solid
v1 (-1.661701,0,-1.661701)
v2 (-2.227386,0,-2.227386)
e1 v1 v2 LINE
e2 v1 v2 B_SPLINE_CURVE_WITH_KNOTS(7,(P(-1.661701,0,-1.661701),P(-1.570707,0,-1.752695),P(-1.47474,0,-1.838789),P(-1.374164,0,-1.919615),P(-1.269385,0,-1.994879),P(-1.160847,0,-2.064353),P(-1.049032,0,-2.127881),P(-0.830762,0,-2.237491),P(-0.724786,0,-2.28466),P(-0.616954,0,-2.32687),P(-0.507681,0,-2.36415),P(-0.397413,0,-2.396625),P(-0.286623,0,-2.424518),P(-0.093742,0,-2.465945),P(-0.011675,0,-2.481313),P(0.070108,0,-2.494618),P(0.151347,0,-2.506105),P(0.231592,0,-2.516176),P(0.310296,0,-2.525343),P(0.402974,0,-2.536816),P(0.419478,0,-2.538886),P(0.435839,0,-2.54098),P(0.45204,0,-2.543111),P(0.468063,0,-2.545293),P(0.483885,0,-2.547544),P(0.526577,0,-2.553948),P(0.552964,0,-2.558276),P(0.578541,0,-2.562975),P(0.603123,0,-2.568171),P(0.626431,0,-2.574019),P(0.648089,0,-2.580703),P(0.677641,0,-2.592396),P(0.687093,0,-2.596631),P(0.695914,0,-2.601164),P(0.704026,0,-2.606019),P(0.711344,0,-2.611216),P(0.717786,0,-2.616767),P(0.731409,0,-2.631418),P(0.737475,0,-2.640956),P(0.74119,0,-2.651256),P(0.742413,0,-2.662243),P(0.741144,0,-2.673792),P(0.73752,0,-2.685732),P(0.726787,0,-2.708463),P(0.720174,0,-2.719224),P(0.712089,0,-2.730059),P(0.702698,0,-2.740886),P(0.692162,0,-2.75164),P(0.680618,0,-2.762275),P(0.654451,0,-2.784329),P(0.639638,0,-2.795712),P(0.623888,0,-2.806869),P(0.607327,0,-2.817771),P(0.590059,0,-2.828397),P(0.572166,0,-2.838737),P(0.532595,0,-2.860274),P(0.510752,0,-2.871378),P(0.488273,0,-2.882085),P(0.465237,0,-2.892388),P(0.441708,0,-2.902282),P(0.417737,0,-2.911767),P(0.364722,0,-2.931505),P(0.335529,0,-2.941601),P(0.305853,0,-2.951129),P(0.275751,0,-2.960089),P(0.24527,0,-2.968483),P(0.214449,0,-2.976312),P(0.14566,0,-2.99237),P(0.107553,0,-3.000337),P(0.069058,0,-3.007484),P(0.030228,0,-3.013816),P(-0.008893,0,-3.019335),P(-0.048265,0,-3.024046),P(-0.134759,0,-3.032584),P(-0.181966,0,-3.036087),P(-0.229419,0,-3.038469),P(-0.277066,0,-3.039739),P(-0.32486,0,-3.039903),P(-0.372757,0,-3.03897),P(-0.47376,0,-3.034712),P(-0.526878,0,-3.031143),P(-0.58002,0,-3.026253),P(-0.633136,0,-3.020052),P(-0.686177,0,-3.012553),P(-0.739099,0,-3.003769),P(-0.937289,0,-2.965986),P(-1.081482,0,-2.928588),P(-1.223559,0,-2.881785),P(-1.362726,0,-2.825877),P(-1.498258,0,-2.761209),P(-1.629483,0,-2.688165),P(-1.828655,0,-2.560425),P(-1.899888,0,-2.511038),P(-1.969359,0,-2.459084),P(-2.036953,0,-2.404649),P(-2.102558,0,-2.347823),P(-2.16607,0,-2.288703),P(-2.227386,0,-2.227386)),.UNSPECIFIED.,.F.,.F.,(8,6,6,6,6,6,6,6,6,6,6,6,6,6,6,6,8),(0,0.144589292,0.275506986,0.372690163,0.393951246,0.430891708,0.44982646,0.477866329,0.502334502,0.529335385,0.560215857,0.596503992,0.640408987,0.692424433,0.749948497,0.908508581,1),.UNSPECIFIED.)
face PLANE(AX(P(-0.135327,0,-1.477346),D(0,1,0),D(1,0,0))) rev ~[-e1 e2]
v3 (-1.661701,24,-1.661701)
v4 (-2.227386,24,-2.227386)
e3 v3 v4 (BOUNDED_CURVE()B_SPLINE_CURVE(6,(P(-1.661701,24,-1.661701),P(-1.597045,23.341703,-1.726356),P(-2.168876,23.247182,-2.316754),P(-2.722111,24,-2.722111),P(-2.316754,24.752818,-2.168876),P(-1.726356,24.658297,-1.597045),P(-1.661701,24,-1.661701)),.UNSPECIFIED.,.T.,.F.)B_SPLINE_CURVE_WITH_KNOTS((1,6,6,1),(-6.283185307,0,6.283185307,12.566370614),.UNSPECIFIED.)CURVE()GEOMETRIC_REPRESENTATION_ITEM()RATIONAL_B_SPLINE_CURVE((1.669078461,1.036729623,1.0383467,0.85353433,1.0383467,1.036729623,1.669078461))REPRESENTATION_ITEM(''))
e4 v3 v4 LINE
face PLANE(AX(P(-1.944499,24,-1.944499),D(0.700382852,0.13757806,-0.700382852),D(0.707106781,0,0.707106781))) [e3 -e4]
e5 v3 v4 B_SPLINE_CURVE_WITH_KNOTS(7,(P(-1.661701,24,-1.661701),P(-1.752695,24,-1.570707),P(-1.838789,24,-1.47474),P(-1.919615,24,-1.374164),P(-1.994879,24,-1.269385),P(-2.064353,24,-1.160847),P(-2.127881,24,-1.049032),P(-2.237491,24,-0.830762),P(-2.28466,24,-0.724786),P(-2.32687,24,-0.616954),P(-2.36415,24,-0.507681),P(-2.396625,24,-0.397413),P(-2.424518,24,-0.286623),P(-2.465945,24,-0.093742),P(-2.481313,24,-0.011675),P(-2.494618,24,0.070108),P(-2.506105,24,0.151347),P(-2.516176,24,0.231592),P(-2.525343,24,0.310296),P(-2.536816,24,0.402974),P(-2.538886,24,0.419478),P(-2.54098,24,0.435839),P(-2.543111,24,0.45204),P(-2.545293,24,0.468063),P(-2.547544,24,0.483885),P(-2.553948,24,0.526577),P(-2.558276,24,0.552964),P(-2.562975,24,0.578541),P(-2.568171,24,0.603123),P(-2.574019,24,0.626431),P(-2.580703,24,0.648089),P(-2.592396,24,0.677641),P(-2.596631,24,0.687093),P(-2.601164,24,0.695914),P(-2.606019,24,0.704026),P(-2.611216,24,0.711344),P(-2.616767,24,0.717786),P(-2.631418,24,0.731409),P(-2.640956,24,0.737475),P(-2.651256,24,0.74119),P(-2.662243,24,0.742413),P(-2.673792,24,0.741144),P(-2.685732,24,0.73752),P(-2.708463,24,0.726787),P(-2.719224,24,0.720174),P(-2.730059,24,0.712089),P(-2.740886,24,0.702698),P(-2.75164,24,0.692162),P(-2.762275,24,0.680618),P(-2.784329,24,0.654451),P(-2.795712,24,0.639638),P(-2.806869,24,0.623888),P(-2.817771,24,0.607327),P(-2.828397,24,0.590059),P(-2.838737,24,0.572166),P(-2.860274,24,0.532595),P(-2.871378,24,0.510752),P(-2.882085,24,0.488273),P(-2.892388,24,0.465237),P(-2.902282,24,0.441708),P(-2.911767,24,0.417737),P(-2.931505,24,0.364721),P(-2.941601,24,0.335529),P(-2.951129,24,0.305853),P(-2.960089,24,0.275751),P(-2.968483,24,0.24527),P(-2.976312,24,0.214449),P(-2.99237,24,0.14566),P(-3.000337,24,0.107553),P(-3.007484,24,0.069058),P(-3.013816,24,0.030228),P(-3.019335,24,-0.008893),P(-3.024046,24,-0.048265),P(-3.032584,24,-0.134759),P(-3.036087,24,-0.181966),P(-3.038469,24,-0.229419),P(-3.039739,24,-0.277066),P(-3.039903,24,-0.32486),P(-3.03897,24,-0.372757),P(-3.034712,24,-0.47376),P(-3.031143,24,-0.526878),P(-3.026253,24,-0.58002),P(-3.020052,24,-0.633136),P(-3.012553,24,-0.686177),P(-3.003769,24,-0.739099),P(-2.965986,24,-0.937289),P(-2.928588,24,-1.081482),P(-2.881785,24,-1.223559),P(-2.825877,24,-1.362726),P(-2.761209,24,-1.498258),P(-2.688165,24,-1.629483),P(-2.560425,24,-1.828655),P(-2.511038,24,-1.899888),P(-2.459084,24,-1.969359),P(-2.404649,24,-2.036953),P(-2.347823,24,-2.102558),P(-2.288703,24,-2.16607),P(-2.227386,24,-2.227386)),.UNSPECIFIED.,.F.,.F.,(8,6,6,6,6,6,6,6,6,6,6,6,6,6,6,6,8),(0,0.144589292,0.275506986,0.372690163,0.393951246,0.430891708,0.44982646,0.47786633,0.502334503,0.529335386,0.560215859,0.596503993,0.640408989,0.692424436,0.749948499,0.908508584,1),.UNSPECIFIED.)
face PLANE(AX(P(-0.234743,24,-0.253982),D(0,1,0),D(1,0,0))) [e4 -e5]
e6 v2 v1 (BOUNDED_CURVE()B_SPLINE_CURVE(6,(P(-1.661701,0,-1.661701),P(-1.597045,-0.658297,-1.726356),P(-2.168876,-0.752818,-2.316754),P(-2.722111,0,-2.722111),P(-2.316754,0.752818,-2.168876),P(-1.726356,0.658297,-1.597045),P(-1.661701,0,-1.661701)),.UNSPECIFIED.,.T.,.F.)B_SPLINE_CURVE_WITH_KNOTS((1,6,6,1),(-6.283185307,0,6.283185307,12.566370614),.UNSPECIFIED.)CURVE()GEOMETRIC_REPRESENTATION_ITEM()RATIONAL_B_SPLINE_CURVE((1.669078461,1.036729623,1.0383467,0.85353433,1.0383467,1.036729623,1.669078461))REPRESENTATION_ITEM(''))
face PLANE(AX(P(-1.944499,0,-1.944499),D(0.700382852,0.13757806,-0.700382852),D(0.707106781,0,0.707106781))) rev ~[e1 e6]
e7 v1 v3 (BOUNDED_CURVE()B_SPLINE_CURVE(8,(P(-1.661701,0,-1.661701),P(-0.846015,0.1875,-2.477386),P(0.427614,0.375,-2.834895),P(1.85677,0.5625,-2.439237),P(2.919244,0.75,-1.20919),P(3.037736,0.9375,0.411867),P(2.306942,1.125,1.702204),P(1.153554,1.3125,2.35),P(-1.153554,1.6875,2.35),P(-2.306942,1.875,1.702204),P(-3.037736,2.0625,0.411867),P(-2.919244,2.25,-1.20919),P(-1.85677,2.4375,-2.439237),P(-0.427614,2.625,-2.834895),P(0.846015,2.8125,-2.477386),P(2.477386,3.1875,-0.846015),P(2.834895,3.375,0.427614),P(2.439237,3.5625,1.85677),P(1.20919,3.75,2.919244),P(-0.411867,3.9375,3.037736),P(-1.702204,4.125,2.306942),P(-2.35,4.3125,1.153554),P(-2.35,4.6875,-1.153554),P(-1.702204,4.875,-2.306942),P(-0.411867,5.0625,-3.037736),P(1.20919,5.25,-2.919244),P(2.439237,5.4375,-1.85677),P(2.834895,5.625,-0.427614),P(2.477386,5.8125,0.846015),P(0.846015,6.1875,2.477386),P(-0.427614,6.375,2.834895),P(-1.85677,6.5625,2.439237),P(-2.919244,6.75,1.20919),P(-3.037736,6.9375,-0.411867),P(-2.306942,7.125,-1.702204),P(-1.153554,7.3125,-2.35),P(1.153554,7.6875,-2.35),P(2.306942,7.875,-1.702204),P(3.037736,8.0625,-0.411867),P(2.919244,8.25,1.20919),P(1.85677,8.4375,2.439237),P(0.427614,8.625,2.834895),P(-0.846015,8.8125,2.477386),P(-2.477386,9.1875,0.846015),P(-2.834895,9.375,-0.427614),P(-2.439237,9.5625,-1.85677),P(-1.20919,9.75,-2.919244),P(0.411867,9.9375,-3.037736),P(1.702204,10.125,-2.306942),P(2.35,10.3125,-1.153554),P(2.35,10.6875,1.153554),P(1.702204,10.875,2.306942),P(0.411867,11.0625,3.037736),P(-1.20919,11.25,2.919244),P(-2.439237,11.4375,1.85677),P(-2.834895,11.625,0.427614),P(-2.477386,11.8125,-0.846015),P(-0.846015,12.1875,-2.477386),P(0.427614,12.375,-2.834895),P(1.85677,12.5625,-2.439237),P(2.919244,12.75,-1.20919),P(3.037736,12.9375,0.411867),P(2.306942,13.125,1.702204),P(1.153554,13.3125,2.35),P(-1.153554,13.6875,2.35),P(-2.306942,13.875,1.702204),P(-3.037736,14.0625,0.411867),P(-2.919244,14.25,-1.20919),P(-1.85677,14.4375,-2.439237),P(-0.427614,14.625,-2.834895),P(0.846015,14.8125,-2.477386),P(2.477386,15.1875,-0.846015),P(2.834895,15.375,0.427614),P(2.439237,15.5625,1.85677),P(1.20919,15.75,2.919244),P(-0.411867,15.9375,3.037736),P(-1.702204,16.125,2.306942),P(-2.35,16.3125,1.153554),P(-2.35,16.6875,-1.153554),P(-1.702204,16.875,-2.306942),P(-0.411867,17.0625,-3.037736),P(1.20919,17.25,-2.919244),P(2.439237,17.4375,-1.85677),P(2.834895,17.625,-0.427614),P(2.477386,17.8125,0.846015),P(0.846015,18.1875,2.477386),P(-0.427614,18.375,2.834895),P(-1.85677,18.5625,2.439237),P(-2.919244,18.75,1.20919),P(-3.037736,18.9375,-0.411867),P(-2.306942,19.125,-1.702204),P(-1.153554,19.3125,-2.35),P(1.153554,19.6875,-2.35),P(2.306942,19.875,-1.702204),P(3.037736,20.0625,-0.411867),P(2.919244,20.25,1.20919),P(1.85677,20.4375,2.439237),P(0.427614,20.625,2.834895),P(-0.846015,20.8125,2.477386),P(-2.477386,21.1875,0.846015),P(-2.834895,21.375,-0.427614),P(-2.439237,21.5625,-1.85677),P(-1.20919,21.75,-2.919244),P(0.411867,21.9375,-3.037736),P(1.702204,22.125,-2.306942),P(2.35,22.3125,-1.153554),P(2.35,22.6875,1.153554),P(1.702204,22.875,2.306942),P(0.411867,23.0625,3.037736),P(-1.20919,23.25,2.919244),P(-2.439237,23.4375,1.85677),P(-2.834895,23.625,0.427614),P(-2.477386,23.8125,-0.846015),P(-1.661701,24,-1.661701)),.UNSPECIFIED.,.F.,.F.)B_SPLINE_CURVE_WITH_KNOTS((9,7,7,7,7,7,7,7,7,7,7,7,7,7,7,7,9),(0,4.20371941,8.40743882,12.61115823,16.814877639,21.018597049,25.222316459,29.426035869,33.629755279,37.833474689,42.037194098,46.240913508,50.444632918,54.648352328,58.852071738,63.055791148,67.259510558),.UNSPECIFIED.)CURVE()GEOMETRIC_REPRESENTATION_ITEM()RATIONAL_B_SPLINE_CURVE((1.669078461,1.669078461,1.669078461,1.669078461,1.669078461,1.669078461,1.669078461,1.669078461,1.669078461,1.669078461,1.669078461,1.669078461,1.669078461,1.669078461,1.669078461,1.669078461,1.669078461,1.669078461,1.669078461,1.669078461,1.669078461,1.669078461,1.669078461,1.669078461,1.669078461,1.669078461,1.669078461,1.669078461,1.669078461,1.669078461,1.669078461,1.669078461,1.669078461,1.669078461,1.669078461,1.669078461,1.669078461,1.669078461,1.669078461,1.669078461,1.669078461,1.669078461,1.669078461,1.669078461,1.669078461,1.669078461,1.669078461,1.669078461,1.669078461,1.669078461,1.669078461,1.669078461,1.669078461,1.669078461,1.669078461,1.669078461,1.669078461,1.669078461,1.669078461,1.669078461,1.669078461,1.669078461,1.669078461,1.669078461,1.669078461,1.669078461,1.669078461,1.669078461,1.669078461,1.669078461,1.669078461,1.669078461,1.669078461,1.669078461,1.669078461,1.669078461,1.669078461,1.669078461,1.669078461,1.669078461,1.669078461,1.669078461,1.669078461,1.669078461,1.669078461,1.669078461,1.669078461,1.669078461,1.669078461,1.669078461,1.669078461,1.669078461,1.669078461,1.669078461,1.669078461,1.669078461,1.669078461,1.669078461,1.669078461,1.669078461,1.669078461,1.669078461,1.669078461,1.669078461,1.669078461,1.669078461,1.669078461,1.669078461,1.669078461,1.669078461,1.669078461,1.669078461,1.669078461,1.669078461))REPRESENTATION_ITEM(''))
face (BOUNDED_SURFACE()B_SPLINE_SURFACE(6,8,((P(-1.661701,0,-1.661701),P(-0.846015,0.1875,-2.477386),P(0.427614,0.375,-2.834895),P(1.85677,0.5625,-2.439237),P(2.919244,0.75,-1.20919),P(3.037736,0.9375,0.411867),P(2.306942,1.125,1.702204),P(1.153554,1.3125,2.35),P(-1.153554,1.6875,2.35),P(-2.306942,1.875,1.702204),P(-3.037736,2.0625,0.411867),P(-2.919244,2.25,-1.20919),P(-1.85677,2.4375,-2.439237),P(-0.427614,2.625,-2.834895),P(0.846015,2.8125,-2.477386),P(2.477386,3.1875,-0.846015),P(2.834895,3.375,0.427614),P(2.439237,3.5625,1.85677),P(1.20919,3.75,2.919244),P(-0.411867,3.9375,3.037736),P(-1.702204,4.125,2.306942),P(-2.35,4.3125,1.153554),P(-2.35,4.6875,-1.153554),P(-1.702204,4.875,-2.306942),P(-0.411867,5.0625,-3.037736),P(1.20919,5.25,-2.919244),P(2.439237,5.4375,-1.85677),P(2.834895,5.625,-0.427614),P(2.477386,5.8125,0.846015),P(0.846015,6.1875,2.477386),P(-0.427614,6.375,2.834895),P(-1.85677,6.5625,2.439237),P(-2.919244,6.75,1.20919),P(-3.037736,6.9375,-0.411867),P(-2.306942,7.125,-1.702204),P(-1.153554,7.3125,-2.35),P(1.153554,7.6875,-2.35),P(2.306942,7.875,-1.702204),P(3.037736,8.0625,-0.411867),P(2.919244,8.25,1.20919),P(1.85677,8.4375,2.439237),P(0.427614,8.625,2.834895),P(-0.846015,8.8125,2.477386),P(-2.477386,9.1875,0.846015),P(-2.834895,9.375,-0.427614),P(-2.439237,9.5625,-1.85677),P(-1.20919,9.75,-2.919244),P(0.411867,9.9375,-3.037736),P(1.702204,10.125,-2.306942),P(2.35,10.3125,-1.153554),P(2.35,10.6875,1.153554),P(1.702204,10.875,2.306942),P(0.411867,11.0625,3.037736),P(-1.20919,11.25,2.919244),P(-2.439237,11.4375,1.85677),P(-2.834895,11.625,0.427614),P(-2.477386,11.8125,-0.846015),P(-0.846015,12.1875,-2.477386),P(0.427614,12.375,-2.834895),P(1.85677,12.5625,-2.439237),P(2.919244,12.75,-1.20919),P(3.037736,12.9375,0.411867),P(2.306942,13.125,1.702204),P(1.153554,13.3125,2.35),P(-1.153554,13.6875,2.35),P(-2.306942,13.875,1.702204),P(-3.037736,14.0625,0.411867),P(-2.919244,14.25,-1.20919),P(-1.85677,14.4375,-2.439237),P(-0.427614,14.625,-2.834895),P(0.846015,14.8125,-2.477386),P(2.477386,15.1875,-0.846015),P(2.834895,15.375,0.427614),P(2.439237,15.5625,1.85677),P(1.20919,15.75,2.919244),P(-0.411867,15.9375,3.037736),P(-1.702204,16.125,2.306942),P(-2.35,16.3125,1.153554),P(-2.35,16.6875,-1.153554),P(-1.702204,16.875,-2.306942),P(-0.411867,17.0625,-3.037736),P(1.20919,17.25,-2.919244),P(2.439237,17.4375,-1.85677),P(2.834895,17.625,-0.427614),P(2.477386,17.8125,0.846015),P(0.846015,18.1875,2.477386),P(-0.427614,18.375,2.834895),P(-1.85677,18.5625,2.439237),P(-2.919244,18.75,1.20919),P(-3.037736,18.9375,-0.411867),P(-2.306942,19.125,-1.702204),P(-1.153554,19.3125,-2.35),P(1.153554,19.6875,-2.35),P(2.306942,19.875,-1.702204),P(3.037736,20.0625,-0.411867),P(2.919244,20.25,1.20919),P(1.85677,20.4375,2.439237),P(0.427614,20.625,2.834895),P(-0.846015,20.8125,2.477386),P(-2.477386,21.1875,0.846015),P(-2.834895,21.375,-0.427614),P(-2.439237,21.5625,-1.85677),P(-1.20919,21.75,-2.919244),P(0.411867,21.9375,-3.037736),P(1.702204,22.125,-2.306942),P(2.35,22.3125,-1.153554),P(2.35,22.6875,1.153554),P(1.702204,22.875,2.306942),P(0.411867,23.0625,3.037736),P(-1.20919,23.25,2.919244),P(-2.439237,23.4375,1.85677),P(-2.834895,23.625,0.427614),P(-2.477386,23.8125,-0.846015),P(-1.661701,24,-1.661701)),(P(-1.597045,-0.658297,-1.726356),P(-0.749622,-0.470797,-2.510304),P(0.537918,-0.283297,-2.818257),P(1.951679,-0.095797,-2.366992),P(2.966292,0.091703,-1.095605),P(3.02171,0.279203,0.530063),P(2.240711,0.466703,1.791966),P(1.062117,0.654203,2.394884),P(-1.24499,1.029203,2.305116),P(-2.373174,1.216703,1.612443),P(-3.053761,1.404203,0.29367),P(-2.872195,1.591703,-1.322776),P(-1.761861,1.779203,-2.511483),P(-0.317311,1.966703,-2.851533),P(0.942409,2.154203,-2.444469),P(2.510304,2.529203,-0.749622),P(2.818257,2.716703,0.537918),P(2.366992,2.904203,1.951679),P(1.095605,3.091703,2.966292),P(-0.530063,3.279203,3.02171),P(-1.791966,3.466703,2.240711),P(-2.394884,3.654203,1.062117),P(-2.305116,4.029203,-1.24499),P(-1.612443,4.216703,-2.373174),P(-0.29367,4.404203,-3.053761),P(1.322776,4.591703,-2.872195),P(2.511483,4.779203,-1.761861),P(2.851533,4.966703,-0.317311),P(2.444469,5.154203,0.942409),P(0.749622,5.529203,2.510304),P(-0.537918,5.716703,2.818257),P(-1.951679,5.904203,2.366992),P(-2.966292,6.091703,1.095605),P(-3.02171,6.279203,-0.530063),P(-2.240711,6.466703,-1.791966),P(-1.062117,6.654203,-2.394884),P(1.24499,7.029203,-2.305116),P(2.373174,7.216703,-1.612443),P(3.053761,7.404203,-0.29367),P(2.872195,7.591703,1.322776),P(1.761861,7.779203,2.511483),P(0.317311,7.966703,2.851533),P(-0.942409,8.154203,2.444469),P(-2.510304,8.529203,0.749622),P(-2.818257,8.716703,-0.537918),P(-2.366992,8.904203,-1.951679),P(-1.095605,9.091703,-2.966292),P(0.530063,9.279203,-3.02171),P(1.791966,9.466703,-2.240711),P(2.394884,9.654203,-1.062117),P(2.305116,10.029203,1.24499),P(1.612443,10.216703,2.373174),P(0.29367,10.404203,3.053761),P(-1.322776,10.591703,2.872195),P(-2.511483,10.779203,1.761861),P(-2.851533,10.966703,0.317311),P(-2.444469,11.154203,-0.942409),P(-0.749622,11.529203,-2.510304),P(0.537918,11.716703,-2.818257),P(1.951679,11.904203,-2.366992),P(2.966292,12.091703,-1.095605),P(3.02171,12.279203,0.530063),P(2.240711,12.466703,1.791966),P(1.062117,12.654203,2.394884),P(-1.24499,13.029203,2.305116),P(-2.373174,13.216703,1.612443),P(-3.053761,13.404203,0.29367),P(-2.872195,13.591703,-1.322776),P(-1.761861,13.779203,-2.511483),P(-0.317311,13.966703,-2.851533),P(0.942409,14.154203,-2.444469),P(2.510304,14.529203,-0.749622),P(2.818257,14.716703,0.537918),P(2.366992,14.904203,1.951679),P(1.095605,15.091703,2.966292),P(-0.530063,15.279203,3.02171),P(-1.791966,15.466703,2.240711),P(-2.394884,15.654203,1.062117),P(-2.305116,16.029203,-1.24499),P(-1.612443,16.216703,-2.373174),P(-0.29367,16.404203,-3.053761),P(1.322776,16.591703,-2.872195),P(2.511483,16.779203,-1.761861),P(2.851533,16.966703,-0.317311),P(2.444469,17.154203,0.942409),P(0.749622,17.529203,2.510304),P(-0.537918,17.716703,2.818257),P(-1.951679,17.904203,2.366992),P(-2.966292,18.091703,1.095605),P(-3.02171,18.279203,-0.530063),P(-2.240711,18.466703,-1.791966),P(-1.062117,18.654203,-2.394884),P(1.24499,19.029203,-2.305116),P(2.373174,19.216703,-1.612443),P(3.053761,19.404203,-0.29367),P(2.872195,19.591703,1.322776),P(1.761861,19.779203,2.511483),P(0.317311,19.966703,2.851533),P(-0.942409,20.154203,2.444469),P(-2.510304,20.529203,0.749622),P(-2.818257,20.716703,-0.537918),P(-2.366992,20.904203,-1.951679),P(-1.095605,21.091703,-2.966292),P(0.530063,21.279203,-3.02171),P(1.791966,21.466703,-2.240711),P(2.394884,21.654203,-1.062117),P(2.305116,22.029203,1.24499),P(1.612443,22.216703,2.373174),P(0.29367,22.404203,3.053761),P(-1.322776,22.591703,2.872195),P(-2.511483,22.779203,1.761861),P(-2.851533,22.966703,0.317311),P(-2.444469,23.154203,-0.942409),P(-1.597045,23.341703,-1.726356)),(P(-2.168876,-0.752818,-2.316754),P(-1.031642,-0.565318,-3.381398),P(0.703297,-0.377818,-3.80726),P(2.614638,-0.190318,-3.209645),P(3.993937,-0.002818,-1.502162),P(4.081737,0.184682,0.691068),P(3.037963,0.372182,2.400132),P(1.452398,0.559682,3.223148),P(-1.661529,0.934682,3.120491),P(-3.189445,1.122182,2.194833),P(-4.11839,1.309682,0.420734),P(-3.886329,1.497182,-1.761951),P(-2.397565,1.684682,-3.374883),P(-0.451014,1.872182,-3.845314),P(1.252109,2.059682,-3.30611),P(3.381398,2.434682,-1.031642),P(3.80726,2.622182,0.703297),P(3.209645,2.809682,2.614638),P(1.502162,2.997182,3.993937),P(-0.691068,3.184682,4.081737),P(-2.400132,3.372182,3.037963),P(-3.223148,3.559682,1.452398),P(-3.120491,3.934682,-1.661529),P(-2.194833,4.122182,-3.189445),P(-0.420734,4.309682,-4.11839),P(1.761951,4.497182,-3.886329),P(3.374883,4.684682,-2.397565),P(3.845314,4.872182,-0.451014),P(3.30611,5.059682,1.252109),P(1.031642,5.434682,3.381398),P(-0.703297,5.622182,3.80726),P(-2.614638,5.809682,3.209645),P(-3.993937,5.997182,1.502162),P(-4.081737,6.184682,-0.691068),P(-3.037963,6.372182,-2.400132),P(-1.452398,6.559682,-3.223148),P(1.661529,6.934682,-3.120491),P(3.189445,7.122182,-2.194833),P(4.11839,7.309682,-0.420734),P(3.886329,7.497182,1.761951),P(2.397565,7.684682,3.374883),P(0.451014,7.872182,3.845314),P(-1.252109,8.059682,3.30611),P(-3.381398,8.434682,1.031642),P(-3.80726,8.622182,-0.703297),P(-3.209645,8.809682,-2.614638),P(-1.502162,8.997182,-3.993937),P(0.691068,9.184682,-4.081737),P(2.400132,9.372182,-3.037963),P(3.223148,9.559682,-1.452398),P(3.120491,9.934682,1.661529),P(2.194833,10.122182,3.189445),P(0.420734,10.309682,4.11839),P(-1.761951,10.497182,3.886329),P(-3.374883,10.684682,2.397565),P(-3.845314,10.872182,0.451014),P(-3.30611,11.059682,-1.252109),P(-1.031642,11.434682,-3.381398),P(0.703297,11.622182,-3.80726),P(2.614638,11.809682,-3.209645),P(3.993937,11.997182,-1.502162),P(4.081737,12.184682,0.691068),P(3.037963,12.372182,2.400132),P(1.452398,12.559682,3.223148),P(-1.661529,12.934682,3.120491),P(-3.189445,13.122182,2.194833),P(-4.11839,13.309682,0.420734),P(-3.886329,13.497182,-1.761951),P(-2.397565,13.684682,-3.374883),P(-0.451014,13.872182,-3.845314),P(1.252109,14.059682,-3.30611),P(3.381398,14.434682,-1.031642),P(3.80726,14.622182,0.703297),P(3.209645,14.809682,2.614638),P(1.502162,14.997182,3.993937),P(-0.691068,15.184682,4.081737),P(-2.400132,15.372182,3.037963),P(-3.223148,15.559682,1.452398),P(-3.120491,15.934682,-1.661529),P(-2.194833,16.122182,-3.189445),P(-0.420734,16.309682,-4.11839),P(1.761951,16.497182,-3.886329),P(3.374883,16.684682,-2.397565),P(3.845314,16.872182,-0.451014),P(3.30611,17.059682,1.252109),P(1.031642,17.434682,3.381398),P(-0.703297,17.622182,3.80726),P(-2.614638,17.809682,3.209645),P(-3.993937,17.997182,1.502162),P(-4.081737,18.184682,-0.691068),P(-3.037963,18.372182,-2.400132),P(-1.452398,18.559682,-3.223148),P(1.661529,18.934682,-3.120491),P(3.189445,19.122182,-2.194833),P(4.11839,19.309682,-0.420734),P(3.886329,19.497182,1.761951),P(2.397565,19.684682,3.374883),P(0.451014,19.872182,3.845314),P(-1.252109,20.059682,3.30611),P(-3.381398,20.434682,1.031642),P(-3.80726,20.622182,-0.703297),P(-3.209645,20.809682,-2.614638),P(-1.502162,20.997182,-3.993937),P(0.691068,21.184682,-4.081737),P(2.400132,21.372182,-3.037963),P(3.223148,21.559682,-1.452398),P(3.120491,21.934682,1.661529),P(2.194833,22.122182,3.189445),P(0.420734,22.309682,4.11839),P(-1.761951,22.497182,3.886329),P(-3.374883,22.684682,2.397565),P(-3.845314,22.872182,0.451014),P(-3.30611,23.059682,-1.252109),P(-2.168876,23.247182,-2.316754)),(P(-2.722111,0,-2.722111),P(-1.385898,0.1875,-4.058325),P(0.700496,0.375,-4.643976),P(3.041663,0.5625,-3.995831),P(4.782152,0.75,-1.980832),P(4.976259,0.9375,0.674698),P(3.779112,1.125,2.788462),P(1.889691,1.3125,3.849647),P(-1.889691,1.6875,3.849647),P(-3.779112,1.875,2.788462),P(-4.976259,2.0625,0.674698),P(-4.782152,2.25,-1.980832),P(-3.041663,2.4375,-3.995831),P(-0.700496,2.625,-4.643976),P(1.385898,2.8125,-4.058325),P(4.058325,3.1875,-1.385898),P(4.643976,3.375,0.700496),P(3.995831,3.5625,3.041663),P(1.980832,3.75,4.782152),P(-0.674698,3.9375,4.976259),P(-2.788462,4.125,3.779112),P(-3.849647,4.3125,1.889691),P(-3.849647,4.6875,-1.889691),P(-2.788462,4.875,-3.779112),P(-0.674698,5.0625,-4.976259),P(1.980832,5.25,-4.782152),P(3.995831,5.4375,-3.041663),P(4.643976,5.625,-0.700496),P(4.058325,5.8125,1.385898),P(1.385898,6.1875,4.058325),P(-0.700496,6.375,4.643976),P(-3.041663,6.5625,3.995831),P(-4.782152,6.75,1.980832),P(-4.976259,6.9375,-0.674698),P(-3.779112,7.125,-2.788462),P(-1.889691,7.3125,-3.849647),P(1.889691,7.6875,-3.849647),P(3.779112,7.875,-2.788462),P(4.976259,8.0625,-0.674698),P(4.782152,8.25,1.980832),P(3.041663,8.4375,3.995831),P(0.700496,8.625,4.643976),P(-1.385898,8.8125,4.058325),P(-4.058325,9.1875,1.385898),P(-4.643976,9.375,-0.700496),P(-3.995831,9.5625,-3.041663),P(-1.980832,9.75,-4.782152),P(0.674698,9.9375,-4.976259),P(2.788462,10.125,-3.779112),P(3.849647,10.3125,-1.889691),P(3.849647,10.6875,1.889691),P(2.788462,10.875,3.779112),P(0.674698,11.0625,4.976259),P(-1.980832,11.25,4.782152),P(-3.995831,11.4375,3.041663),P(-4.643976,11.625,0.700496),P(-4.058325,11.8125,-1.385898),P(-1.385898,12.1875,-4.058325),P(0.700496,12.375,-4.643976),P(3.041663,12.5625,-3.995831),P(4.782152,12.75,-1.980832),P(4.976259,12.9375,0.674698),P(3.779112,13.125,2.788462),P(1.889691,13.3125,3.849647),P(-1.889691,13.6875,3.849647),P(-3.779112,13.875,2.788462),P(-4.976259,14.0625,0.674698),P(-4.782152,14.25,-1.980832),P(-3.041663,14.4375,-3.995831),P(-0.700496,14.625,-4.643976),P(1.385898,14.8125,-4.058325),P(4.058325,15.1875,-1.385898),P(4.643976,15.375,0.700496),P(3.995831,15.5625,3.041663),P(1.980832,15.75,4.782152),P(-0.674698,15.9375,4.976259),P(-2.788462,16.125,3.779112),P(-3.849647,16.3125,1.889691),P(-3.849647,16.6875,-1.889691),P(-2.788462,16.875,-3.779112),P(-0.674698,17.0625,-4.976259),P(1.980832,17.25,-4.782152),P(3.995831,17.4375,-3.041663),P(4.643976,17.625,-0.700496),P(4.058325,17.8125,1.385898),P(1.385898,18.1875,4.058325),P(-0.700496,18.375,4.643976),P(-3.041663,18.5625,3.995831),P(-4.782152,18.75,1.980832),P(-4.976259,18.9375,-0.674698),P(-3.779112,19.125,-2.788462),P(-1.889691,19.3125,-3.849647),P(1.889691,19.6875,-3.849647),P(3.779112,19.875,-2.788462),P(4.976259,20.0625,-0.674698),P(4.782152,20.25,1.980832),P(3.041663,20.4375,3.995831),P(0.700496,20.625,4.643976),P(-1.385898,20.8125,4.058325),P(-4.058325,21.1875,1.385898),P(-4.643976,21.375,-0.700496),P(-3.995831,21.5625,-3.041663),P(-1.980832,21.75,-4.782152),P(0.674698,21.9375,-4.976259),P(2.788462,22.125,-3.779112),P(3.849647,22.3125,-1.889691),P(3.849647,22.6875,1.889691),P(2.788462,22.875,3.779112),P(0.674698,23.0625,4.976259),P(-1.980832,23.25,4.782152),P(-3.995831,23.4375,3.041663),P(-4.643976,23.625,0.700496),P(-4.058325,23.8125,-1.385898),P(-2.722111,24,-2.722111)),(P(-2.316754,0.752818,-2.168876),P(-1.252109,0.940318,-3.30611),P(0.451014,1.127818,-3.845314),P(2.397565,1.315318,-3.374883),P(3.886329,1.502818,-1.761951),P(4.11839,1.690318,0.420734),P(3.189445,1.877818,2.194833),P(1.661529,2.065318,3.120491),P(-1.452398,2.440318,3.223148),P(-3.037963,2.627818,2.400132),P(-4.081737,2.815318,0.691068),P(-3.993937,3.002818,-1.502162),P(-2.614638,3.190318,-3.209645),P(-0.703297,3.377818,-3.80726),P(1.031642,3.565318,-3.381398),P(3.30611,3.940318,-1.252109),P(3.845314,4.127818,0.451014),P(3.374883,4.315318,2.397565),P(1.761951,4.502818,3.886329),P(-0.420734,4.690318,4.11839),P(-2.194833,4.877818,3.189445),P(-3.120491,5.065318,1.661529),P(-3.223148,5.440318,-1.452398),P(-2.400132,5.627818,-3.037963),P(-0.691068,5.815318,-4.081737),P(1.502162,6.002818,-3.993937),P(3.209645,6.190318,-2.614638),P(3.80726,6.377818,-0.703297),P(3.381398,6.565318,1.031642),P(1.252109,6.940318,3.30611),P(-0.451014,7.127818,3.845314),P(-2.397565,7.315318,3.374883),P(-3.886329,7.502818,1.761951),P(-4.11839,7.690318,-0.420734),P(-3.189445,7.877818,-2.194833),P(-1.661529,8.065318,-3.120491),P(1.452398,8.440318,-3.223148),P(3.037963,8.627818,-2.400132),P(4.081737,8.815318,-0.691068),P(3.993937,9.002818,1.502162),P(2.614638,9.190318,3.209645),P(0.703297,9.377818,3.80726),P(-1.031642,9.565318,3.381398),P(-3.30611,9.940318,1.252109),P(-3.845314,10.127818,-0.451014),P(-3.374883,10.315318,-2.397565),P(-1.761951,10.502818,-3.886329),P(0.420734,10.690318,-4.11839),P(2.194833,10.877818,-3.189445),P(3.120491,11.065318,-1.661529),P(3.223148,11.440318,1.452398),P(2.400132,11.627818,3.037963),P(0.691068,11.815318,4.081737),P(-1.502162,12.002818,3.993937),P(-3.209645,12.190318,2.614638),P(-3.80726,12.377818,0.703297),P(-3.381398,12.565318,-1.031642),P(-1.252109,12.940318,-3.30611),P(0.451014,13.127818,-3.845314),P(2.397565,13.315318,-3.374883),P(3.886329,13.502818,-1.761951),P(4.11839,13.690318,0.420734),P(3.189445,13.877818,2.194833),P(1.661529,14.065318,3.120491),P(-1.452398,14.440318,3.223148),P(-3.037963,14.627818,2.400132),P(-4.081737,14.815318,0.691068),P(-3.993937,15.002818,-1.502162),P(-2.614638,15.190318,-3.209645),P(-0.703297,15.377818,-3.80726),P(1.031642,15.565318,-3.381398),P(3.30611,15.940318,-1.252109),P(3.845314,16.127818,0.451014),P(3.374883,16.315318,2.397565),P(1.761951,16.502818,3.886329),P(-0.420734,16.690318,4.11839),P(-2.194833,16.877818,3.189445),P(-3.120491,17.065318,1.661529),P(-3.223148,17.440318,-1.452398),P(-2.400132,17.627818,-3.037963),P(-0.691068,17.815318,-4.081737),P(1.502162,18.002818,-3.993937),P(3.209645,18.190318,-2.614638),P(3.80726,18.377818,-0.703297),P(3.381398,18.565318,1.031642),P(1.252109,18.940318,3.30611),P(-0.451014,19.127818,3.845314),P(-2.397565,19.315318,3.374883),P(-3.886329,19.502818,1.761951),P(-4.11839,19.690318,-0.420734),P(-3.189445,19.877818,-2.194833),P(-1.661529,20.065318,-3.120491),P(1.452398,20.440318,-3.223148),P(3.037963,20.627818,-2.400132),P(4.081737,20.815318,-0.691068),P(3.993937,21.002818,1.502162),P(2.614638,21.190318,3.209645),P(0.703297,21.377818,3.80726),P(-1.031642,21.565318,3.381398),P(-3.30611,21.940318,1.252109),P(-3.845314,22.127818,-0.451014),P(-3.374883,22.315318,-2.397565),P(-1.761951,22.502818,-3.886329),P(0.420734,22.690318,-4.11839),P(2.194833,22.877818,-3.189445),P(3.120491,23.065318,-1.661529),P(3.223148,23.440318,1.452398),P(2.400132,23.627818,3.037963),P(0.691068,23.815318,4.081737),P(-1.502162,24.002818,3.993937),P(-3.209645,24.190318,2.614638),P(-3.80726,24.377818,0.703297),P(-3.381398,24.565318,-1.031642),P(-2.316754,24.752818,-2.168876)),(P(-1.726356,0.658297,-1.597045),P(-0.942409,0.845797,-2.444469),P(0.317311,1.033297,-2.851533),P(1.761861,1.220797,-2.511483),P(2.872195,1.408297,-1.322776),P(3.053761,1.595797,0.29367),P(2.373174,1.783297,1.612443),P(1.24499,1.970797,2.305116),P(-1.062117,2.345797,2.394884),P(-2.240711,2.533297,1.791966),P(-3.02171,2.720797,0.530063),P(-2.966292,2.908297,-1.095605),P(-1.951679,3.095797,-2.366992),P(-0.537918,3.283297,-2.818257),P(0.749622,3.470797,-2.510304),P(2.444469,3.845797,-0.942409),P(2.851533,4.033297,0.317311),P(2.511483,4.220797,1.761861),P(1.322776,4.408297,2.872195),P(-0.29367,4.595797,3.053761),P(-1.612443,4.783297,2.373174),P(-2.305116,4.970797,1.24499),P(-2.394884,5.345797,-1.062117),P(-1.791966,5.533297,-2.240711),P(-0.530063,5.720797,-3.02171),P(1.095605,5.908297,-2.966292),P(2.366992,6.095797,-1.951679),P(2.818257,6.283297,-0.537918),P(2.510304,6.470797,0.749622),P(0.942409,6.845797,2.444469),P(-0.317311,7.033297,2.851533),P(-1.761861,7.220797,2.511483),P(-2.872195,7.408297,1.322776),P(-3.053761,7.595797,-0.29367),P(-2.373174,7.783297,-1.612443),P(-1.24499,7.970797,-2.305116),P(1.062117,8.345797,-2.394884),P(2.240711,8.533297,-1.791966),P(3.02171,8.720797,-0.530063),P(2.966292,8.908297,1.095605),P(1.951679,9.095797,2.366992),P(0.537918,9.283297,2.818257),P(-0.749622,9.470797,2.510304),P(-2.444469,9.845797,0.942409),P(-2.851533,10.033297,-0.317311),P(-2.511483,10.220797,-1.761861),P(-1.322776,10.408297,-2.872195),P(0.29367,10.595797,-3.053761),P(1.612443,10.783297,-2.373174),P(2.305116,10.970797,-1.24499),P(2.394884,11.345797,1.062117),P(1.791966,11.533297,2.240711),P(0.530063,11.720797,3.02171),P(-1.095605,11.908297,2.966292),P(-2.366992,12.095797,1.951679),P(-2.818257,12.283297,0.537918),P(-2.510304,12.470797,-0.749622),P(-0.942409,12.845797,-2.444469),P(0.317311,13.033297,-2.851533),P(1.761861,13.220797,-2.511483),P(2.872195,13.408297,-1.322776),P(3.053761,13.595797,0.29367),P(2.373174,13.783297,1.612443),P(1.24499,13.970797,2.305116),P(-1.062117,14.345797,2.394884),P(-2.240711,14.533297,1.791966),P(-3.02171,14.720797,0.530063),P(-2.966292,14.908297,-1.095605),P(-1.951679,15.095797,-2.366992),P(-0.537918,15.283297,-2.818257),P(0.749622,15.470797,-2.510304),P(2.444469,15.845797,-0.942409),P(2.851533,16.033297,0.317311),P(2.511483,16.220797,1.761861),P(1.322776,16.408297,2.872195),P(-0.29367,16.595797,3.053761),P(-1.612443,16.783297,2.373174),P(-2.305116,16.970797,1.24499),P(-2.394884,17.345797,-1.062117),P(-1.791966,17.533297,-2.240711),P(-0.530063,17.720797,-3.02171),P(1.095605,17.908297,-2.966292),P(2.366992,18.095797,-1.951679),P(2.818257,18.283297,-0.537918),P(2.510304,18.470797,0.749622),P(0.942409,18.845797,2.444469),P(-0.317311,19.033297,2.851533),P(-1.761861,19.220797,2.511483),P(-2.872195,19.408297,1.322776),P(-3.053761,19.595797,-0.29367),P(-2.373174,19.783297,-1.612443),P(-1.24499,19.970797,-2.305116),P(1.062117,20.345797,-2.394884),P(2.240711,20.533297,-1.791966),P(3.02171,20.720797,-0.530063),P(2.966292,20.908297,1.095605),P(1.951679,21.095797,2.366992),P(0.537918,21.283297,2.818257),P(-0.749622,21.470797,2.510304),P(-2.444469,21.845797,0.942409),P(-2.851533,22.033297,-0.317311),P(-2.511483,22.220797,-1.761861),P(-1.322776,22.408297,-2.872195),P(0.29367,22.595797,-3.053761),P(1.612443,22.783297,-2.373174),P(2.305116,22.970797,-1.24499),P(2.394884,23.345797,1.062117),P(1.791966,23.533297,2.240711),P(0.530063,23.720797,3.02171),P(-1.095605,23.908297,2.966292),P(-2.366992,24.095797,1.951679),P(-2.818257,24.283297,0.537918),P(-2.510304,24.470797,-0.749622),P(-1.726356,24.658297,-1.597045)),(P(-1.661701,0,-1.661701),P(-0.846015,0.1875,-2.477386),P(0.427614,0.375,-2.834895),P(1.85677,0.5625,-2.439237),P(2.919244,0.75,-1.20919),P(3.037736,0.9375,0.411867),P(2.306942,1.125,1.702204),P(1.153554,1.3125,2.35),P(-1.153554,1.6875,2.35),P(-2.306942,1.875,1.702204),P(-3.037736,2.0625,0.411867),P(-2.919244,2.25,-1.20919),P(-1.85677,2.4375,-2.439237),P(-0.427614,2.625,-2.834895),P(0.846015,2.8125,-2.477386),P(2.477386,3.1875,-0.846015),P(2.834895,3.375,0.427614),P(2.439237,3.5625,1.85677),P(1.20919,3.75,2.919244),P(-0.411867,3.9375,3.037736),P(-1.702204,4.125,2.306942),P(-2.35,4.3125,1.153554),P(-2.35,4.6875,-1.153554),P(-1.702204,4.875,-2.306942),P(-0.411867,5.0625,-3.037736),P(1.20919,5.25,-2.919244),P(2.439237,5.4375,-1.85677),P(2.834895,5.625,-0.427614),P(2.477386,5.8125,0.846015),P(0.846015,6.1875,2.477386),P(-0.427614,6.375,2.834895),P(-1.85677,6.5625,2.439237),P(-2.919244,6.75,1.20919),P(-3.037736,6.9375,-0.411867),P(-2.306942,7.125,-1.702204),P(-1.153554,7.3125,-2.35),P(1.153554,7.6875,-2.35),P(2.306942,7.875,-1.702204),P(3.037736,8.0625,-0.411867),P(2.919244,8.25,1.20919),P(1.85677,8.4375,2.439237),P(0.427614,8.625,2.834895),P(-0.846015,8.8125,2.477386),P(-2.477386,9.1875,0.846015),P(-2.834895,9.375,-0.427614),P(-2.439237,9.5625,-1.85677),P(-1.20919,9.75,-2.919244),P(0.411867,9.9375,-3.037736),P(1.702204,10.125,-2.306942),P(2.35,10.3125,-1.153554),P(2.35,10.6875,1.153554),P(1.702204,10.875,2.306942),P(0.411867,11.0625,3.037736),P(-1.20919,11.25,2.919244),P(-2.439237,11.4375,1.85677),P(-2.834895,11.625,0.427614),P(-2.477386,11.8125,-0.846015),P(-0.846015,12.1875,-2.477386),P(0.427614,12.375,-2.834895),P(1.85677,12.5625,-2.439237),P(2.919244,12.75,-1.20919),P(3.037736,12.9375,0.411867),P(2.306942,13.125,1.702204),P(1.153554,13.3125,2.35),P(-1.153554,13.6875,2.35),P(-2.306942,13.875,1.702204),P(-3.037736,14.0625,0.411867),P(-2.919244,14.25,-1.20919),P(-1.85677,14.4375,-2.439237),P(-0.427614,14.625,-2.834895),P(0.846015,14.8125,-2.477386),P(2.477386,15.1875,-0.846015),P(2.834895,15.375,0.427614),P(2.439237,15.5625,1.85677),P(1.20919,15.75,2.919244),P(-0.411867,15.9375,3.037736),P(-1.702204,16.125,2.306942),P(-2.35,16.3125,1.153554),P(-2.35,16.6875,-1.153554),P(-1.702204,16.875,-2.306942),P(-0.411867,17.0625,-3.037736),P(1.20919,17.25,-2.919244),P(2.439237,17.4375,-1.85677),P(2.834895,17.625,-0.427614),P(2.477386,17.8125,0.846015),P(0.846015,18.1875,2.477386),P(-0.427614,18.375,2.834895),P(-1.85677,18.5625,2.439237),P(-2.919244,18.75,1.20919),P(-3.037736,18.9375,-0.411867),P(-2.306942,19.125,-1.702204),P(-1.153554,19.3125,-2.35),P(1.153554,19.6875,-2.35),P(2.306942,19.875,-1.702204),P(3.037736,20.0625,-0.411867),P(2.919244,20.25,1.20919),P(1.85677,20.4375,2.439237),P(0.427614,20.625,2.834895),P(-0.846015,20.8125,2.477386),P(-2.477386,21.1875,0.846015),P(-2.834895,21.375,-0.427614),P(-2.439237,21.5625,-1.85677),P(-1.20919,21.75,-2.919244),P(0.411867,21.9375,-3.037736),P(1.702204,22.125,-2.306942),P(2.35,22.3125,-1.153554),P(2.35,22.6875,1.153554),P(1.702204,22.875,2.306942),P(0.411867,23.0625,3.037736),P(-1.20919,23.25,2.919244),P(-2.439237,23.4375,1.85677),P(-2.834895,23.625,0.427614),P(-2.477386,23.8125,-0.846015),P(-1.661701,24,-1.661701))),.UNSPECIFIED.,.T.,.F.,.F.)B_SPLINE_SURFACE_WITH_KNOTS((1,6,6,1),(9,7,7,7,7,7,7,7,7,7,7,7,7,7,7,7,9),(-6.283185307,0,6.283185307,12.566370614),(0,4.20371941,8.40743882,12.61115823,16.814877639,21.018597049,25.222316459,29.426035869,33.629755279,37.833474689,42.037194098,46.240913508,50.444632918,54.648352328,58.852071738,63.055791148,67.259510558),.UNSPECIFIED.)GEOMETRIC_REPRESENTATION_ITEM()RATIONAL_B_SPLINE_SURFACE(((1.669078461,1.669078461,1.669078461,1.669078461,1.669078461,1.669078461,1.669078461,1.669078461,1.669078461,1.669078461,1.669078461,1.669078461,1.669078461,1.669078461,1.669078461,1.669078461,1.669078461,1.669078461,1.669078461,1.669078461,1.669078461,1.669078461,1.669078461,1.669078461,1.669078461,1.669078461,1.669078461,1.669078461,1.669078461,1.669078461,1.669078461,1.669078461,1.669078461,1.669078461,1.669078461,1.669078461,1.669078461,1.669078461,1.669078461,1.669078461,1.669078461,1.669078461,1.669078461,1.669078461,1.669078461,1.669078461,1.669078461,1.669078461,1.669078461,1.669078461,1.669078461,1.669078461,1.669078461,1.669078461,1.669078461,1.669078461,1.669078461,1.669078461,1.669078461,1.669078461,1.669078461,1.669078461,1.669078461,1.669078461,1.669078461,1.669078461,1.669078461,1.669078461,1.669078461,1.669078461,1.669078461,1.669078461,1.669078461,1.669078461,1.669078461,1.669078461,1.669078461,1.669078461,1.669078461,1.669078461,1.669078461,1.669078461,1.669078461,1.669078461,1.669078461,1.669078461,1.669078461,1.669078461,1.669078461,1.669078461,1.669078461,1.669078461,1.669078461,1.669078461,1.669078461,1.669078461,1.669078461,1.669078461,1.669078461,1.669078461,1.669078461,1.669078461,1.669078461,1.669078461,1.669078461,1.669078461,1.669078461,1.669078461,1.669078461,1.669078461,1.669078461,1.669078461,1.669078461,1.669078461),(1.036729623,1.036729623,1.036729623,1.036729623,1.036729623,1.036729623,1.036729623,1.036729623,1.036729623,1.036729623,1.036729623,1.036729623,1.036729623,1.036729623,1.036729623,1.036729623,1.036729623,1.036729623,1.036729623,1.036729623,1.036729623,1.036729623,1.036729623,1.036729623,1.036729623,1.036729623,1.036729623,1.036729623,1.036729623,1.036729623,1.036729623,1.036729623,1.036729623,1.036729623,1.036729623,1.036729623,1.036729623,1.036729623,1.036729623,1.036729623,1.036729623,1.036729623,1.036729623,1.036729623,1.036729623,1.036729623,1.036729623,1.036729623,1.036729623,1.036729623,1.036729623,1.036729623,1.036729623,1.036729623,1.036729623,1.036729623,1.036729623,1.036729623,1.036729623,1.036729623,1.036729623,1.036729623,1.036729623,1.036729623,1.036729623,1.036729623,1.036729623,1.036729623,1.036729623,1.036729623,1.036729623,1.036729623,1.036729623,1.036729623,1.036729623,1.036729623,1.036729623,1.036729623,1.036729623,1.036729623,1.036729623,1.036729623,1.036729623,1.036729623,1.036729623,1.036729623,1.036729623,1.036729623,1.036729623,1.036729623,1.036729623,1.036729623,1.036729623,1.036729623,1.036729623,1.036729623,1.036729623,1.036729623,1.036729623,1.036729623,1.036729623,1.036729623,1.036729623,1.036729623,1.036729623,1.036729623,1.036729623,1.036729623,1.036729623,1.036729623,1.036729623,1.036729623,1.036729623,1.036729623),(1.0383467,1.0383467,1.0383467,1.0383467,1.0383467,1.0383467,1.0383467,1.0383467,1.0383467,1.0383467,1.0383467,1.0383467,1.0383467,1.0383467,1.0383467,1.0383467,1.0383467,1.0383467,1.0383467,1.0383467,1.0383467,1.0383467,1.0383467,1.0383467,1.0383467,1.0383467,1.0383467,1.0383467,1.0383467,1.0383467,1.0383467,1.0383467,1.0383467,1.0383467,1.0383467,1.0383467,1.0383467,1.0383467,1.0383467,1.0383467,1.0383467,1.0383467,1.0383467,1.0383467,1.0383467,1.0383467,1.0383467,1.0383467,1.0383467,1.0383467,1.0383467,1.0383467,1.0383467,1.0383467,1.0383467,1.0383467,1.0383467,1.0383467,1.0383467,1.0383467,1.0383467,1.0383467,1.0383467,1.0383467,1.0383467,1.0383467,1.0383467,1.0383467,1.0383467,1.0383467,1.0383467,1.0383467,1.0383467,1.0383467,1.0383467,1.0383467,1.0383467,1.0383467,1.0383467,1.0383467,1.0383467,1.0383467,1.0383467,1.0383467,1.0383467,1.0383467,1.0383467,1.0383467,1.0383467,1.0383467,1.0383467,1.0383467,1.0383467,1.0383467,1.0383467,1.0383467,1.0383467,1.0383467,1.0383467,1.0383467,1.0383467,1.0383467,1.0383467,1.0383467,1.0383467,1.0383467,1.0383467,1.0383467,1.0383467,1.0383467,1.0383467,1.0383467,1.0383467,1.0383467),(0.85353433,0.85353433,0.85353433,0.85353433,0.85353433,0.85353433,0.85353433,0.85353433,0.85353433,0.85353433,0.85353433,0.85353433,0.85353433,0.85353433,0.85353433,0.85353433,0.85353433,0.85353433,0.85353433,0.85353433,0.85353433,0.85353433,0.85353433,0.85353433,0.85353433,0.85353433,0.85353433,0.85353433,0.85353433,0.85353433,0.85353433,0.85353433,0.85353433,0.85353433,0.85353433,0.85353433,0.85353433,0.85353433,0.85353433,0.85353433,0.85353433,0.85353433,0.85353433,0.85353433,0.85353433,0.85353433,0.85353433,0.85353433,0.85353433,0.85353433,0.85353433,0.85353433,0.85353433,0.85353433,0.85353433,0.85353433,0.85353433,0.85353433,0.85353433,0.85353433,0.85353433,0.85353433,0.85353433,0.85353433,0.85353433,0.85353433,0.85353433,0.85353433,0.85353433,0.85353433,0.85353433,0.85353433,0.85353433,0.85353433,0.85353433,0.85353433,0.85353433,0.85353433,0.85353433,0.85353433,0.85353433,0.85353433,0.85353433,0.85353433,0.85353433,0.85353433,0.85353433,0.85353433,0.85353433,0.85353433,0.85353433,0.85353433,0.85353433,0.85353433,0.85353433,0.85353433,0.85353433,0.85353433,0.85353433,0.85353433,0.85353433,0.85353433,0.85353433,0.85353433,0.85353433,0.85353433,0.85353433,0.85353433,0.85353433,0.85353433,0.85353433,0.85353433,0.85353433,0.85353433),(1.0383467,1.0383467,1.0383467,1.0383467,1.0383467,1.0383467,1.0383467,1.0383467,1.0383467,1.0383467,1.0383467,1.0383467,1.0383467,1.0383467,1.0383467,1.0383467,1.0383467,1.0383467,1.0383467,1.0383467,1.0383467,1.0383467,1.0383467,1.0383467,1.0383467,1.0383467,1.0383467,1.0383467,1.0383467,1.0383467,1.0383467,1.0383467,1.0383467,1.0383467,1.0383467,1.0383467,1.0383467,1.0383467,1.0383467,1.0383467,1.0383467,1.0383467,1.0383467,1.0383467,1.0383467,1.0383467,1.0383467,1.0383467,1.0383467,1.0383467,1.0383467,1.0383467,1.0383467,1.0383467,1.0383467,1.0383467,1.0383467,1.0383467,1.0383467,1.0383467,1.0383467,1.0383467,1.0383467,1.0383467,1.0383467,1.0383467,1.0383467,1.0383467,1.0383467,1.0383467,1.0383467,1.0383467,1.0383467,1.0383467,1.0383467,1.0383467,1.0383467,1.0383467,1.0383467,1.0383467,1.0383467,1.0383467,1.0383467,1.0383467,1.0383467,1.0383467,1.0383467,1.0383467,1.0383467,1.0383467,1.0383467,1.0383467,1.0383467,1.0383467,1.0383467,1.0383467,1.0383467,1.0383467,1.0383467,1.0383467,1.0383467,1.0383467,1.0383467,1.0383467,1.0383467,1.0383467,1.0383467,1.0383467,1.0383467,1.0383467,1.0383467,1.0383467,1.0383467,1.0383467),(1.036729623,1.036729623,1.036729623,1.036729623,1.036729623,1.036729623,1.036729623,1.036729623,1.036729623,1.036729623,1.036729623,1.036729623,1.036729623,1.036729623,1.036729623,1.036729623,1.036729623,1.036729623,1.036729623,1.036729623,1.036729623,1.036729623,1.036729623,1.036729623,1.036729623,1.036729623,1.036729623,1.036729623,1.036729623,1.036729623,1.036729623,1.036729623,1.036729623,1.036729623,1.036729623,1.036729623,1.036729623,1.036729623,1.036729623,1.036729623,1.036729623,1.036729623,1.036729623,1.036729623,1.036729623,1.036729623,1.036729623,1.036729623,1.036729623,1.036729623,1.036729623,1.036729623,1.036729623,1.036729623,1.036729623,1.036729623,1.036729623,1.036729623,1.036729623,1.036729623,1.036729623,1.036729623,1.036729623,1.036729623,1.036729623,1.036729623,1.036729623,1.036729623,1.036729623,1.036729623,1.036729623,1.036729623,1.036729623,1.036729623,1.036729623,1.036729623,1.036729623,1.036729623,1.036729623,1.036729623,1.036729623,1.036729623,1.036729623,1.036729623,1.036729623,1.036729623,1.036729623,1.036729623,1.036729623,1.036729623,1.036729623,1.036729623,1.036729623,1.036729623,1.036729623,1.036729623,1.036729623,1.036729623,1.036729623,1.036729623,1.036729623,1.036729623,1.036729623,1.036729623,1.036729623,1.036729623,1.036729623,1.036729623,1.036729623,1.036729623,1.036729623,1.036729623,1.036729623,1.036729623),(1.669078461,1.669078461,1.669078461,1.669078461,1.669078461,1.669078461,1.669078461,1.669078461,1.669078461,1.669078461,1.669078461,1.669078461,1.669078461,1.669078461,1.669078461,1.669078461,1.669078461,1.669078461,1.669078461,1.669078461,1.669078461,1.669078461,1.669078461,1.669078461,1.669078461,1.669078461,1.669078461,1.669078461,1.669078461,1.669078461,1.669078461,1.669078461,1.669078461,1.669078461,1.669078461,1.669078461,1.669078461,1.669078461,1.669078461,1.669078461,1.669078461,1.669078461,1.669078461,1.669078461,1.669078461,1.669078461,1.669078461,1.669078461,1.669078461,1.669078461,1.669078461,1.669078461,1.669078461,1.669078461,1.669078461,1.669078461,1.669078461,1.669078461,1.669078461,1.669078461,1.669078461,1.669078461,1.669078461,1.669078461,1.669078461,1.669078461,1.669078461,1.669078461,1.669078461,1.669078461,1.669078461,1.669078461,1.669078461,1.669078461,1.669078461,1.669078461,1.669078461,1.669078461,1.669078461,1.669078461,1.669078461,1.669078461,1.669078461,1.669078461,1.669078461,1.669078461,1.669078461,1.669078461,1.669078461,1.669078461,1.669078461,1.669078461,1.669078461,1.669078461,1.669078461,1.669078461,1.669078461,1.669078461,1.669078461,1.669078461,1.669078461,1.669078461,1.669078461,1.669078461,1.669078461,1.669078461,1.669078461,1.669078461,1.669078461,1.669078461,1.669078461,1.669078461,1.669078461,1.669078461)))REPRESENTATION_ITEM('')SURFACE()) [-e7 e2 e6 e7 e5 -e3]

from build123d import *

# Parameters (mm, degrees)
SWEEP1_PITCH       = 2.4
SWEEP1_HEIGHT      = 24
SWEEP1_RADIUS      = 2.75
SWEEP1_START_ANGLE = -135
SWEEP1_PROFILE_R   = 0.4
CUT_EXTRUDE1_REACH = 26.8
SKETCH21_W         = 6.100235039
SKETCH21_H         = 3.895484728
CUT_EXTRUDE2_REACH = 26.8
SKETCH22_W         = 7.210212381
SKETCH22_H         = 6.505584927


with BuildPart() as part:
    # Sweep1: sweep along a helix
    with BuildLine() as sweep1_path:
        add(Helix(SWEEP1_PITCH, SWEEP1_HEIGHT, SWEEP1_RADIUS, center=(0, 0, 0), direction=(0, 1, 0), lefthand=True, mode=Mode.PRIVATE).rotate(Axis((0, 0, 0), (0, 1, 0)), SWEEP1_START_ANGLE))
    # Sweep1 profile (on start of the path) → Sweep1 (sweep)
    with BuildSketch(Plane(origin=(-1.944543648, 0, -1.944543648), x_dir=(0.7071067811863336, 0, 0.7071067811867615), z_dir=(0.70038285151084, 0.13757806009565213, -0.7003828515104162))):
        Circle(SWEEP1_PROFILE_R)
    sweep(path=sweep1_path.line, is_frenet=True)

    # Sketch21 → Cut-Extrude1 (cut, up to next)
    with BuildSketch(Plane(origin=(0, 0, 0), x_dir=(1, 0, 0), z_dir=(0, 1, 0)), mode=Mode.PRIVATE) as cut_extrude1_sk1:
        with Locations((-0.135326621, 1.477346377)):
            Rectangle(SKETCH21_W, SKETCH21_H)
    cut_extrude1_tool1 = extrude(cut_extrude1_sk1.sketch, amount=-CUT_EXTRUDE1_REACH, mode=Mode.PRIVATE) & part.part
    add(cut_extrude1_tool1.solids().sort_by_distance((-0.135327, 0, -1.477346))[0], mode=Mode.SUBTRACT)

    # Sketch22 → Cut-Extrude2 (cut, up to next)
    with BuildSketch(Plane(origin=(0, 24, 0), x_dir=(1, 0, 0), z_dir=(0, 1, 0)), mode=Mode.PRIVATE) as cut_extrude2_sk1:
        with Locations((-0.234742916, 0.253982107)):
            Rectangle(SKETCH22_W, SKETCH22_H)
    cut_extrude2_tool1 = extrude(cut_extrude2_sk1.sketch, amount=CUT_EXTRUDE2_REACH, mode=Mode.PRIVATE) & part.part
    add(cut_extrude2_tool1.solids().sort_by_distance((-0.234743, 24, -0.253982))[0], mode=Mode.SUBTRACT)


solid = part.part
